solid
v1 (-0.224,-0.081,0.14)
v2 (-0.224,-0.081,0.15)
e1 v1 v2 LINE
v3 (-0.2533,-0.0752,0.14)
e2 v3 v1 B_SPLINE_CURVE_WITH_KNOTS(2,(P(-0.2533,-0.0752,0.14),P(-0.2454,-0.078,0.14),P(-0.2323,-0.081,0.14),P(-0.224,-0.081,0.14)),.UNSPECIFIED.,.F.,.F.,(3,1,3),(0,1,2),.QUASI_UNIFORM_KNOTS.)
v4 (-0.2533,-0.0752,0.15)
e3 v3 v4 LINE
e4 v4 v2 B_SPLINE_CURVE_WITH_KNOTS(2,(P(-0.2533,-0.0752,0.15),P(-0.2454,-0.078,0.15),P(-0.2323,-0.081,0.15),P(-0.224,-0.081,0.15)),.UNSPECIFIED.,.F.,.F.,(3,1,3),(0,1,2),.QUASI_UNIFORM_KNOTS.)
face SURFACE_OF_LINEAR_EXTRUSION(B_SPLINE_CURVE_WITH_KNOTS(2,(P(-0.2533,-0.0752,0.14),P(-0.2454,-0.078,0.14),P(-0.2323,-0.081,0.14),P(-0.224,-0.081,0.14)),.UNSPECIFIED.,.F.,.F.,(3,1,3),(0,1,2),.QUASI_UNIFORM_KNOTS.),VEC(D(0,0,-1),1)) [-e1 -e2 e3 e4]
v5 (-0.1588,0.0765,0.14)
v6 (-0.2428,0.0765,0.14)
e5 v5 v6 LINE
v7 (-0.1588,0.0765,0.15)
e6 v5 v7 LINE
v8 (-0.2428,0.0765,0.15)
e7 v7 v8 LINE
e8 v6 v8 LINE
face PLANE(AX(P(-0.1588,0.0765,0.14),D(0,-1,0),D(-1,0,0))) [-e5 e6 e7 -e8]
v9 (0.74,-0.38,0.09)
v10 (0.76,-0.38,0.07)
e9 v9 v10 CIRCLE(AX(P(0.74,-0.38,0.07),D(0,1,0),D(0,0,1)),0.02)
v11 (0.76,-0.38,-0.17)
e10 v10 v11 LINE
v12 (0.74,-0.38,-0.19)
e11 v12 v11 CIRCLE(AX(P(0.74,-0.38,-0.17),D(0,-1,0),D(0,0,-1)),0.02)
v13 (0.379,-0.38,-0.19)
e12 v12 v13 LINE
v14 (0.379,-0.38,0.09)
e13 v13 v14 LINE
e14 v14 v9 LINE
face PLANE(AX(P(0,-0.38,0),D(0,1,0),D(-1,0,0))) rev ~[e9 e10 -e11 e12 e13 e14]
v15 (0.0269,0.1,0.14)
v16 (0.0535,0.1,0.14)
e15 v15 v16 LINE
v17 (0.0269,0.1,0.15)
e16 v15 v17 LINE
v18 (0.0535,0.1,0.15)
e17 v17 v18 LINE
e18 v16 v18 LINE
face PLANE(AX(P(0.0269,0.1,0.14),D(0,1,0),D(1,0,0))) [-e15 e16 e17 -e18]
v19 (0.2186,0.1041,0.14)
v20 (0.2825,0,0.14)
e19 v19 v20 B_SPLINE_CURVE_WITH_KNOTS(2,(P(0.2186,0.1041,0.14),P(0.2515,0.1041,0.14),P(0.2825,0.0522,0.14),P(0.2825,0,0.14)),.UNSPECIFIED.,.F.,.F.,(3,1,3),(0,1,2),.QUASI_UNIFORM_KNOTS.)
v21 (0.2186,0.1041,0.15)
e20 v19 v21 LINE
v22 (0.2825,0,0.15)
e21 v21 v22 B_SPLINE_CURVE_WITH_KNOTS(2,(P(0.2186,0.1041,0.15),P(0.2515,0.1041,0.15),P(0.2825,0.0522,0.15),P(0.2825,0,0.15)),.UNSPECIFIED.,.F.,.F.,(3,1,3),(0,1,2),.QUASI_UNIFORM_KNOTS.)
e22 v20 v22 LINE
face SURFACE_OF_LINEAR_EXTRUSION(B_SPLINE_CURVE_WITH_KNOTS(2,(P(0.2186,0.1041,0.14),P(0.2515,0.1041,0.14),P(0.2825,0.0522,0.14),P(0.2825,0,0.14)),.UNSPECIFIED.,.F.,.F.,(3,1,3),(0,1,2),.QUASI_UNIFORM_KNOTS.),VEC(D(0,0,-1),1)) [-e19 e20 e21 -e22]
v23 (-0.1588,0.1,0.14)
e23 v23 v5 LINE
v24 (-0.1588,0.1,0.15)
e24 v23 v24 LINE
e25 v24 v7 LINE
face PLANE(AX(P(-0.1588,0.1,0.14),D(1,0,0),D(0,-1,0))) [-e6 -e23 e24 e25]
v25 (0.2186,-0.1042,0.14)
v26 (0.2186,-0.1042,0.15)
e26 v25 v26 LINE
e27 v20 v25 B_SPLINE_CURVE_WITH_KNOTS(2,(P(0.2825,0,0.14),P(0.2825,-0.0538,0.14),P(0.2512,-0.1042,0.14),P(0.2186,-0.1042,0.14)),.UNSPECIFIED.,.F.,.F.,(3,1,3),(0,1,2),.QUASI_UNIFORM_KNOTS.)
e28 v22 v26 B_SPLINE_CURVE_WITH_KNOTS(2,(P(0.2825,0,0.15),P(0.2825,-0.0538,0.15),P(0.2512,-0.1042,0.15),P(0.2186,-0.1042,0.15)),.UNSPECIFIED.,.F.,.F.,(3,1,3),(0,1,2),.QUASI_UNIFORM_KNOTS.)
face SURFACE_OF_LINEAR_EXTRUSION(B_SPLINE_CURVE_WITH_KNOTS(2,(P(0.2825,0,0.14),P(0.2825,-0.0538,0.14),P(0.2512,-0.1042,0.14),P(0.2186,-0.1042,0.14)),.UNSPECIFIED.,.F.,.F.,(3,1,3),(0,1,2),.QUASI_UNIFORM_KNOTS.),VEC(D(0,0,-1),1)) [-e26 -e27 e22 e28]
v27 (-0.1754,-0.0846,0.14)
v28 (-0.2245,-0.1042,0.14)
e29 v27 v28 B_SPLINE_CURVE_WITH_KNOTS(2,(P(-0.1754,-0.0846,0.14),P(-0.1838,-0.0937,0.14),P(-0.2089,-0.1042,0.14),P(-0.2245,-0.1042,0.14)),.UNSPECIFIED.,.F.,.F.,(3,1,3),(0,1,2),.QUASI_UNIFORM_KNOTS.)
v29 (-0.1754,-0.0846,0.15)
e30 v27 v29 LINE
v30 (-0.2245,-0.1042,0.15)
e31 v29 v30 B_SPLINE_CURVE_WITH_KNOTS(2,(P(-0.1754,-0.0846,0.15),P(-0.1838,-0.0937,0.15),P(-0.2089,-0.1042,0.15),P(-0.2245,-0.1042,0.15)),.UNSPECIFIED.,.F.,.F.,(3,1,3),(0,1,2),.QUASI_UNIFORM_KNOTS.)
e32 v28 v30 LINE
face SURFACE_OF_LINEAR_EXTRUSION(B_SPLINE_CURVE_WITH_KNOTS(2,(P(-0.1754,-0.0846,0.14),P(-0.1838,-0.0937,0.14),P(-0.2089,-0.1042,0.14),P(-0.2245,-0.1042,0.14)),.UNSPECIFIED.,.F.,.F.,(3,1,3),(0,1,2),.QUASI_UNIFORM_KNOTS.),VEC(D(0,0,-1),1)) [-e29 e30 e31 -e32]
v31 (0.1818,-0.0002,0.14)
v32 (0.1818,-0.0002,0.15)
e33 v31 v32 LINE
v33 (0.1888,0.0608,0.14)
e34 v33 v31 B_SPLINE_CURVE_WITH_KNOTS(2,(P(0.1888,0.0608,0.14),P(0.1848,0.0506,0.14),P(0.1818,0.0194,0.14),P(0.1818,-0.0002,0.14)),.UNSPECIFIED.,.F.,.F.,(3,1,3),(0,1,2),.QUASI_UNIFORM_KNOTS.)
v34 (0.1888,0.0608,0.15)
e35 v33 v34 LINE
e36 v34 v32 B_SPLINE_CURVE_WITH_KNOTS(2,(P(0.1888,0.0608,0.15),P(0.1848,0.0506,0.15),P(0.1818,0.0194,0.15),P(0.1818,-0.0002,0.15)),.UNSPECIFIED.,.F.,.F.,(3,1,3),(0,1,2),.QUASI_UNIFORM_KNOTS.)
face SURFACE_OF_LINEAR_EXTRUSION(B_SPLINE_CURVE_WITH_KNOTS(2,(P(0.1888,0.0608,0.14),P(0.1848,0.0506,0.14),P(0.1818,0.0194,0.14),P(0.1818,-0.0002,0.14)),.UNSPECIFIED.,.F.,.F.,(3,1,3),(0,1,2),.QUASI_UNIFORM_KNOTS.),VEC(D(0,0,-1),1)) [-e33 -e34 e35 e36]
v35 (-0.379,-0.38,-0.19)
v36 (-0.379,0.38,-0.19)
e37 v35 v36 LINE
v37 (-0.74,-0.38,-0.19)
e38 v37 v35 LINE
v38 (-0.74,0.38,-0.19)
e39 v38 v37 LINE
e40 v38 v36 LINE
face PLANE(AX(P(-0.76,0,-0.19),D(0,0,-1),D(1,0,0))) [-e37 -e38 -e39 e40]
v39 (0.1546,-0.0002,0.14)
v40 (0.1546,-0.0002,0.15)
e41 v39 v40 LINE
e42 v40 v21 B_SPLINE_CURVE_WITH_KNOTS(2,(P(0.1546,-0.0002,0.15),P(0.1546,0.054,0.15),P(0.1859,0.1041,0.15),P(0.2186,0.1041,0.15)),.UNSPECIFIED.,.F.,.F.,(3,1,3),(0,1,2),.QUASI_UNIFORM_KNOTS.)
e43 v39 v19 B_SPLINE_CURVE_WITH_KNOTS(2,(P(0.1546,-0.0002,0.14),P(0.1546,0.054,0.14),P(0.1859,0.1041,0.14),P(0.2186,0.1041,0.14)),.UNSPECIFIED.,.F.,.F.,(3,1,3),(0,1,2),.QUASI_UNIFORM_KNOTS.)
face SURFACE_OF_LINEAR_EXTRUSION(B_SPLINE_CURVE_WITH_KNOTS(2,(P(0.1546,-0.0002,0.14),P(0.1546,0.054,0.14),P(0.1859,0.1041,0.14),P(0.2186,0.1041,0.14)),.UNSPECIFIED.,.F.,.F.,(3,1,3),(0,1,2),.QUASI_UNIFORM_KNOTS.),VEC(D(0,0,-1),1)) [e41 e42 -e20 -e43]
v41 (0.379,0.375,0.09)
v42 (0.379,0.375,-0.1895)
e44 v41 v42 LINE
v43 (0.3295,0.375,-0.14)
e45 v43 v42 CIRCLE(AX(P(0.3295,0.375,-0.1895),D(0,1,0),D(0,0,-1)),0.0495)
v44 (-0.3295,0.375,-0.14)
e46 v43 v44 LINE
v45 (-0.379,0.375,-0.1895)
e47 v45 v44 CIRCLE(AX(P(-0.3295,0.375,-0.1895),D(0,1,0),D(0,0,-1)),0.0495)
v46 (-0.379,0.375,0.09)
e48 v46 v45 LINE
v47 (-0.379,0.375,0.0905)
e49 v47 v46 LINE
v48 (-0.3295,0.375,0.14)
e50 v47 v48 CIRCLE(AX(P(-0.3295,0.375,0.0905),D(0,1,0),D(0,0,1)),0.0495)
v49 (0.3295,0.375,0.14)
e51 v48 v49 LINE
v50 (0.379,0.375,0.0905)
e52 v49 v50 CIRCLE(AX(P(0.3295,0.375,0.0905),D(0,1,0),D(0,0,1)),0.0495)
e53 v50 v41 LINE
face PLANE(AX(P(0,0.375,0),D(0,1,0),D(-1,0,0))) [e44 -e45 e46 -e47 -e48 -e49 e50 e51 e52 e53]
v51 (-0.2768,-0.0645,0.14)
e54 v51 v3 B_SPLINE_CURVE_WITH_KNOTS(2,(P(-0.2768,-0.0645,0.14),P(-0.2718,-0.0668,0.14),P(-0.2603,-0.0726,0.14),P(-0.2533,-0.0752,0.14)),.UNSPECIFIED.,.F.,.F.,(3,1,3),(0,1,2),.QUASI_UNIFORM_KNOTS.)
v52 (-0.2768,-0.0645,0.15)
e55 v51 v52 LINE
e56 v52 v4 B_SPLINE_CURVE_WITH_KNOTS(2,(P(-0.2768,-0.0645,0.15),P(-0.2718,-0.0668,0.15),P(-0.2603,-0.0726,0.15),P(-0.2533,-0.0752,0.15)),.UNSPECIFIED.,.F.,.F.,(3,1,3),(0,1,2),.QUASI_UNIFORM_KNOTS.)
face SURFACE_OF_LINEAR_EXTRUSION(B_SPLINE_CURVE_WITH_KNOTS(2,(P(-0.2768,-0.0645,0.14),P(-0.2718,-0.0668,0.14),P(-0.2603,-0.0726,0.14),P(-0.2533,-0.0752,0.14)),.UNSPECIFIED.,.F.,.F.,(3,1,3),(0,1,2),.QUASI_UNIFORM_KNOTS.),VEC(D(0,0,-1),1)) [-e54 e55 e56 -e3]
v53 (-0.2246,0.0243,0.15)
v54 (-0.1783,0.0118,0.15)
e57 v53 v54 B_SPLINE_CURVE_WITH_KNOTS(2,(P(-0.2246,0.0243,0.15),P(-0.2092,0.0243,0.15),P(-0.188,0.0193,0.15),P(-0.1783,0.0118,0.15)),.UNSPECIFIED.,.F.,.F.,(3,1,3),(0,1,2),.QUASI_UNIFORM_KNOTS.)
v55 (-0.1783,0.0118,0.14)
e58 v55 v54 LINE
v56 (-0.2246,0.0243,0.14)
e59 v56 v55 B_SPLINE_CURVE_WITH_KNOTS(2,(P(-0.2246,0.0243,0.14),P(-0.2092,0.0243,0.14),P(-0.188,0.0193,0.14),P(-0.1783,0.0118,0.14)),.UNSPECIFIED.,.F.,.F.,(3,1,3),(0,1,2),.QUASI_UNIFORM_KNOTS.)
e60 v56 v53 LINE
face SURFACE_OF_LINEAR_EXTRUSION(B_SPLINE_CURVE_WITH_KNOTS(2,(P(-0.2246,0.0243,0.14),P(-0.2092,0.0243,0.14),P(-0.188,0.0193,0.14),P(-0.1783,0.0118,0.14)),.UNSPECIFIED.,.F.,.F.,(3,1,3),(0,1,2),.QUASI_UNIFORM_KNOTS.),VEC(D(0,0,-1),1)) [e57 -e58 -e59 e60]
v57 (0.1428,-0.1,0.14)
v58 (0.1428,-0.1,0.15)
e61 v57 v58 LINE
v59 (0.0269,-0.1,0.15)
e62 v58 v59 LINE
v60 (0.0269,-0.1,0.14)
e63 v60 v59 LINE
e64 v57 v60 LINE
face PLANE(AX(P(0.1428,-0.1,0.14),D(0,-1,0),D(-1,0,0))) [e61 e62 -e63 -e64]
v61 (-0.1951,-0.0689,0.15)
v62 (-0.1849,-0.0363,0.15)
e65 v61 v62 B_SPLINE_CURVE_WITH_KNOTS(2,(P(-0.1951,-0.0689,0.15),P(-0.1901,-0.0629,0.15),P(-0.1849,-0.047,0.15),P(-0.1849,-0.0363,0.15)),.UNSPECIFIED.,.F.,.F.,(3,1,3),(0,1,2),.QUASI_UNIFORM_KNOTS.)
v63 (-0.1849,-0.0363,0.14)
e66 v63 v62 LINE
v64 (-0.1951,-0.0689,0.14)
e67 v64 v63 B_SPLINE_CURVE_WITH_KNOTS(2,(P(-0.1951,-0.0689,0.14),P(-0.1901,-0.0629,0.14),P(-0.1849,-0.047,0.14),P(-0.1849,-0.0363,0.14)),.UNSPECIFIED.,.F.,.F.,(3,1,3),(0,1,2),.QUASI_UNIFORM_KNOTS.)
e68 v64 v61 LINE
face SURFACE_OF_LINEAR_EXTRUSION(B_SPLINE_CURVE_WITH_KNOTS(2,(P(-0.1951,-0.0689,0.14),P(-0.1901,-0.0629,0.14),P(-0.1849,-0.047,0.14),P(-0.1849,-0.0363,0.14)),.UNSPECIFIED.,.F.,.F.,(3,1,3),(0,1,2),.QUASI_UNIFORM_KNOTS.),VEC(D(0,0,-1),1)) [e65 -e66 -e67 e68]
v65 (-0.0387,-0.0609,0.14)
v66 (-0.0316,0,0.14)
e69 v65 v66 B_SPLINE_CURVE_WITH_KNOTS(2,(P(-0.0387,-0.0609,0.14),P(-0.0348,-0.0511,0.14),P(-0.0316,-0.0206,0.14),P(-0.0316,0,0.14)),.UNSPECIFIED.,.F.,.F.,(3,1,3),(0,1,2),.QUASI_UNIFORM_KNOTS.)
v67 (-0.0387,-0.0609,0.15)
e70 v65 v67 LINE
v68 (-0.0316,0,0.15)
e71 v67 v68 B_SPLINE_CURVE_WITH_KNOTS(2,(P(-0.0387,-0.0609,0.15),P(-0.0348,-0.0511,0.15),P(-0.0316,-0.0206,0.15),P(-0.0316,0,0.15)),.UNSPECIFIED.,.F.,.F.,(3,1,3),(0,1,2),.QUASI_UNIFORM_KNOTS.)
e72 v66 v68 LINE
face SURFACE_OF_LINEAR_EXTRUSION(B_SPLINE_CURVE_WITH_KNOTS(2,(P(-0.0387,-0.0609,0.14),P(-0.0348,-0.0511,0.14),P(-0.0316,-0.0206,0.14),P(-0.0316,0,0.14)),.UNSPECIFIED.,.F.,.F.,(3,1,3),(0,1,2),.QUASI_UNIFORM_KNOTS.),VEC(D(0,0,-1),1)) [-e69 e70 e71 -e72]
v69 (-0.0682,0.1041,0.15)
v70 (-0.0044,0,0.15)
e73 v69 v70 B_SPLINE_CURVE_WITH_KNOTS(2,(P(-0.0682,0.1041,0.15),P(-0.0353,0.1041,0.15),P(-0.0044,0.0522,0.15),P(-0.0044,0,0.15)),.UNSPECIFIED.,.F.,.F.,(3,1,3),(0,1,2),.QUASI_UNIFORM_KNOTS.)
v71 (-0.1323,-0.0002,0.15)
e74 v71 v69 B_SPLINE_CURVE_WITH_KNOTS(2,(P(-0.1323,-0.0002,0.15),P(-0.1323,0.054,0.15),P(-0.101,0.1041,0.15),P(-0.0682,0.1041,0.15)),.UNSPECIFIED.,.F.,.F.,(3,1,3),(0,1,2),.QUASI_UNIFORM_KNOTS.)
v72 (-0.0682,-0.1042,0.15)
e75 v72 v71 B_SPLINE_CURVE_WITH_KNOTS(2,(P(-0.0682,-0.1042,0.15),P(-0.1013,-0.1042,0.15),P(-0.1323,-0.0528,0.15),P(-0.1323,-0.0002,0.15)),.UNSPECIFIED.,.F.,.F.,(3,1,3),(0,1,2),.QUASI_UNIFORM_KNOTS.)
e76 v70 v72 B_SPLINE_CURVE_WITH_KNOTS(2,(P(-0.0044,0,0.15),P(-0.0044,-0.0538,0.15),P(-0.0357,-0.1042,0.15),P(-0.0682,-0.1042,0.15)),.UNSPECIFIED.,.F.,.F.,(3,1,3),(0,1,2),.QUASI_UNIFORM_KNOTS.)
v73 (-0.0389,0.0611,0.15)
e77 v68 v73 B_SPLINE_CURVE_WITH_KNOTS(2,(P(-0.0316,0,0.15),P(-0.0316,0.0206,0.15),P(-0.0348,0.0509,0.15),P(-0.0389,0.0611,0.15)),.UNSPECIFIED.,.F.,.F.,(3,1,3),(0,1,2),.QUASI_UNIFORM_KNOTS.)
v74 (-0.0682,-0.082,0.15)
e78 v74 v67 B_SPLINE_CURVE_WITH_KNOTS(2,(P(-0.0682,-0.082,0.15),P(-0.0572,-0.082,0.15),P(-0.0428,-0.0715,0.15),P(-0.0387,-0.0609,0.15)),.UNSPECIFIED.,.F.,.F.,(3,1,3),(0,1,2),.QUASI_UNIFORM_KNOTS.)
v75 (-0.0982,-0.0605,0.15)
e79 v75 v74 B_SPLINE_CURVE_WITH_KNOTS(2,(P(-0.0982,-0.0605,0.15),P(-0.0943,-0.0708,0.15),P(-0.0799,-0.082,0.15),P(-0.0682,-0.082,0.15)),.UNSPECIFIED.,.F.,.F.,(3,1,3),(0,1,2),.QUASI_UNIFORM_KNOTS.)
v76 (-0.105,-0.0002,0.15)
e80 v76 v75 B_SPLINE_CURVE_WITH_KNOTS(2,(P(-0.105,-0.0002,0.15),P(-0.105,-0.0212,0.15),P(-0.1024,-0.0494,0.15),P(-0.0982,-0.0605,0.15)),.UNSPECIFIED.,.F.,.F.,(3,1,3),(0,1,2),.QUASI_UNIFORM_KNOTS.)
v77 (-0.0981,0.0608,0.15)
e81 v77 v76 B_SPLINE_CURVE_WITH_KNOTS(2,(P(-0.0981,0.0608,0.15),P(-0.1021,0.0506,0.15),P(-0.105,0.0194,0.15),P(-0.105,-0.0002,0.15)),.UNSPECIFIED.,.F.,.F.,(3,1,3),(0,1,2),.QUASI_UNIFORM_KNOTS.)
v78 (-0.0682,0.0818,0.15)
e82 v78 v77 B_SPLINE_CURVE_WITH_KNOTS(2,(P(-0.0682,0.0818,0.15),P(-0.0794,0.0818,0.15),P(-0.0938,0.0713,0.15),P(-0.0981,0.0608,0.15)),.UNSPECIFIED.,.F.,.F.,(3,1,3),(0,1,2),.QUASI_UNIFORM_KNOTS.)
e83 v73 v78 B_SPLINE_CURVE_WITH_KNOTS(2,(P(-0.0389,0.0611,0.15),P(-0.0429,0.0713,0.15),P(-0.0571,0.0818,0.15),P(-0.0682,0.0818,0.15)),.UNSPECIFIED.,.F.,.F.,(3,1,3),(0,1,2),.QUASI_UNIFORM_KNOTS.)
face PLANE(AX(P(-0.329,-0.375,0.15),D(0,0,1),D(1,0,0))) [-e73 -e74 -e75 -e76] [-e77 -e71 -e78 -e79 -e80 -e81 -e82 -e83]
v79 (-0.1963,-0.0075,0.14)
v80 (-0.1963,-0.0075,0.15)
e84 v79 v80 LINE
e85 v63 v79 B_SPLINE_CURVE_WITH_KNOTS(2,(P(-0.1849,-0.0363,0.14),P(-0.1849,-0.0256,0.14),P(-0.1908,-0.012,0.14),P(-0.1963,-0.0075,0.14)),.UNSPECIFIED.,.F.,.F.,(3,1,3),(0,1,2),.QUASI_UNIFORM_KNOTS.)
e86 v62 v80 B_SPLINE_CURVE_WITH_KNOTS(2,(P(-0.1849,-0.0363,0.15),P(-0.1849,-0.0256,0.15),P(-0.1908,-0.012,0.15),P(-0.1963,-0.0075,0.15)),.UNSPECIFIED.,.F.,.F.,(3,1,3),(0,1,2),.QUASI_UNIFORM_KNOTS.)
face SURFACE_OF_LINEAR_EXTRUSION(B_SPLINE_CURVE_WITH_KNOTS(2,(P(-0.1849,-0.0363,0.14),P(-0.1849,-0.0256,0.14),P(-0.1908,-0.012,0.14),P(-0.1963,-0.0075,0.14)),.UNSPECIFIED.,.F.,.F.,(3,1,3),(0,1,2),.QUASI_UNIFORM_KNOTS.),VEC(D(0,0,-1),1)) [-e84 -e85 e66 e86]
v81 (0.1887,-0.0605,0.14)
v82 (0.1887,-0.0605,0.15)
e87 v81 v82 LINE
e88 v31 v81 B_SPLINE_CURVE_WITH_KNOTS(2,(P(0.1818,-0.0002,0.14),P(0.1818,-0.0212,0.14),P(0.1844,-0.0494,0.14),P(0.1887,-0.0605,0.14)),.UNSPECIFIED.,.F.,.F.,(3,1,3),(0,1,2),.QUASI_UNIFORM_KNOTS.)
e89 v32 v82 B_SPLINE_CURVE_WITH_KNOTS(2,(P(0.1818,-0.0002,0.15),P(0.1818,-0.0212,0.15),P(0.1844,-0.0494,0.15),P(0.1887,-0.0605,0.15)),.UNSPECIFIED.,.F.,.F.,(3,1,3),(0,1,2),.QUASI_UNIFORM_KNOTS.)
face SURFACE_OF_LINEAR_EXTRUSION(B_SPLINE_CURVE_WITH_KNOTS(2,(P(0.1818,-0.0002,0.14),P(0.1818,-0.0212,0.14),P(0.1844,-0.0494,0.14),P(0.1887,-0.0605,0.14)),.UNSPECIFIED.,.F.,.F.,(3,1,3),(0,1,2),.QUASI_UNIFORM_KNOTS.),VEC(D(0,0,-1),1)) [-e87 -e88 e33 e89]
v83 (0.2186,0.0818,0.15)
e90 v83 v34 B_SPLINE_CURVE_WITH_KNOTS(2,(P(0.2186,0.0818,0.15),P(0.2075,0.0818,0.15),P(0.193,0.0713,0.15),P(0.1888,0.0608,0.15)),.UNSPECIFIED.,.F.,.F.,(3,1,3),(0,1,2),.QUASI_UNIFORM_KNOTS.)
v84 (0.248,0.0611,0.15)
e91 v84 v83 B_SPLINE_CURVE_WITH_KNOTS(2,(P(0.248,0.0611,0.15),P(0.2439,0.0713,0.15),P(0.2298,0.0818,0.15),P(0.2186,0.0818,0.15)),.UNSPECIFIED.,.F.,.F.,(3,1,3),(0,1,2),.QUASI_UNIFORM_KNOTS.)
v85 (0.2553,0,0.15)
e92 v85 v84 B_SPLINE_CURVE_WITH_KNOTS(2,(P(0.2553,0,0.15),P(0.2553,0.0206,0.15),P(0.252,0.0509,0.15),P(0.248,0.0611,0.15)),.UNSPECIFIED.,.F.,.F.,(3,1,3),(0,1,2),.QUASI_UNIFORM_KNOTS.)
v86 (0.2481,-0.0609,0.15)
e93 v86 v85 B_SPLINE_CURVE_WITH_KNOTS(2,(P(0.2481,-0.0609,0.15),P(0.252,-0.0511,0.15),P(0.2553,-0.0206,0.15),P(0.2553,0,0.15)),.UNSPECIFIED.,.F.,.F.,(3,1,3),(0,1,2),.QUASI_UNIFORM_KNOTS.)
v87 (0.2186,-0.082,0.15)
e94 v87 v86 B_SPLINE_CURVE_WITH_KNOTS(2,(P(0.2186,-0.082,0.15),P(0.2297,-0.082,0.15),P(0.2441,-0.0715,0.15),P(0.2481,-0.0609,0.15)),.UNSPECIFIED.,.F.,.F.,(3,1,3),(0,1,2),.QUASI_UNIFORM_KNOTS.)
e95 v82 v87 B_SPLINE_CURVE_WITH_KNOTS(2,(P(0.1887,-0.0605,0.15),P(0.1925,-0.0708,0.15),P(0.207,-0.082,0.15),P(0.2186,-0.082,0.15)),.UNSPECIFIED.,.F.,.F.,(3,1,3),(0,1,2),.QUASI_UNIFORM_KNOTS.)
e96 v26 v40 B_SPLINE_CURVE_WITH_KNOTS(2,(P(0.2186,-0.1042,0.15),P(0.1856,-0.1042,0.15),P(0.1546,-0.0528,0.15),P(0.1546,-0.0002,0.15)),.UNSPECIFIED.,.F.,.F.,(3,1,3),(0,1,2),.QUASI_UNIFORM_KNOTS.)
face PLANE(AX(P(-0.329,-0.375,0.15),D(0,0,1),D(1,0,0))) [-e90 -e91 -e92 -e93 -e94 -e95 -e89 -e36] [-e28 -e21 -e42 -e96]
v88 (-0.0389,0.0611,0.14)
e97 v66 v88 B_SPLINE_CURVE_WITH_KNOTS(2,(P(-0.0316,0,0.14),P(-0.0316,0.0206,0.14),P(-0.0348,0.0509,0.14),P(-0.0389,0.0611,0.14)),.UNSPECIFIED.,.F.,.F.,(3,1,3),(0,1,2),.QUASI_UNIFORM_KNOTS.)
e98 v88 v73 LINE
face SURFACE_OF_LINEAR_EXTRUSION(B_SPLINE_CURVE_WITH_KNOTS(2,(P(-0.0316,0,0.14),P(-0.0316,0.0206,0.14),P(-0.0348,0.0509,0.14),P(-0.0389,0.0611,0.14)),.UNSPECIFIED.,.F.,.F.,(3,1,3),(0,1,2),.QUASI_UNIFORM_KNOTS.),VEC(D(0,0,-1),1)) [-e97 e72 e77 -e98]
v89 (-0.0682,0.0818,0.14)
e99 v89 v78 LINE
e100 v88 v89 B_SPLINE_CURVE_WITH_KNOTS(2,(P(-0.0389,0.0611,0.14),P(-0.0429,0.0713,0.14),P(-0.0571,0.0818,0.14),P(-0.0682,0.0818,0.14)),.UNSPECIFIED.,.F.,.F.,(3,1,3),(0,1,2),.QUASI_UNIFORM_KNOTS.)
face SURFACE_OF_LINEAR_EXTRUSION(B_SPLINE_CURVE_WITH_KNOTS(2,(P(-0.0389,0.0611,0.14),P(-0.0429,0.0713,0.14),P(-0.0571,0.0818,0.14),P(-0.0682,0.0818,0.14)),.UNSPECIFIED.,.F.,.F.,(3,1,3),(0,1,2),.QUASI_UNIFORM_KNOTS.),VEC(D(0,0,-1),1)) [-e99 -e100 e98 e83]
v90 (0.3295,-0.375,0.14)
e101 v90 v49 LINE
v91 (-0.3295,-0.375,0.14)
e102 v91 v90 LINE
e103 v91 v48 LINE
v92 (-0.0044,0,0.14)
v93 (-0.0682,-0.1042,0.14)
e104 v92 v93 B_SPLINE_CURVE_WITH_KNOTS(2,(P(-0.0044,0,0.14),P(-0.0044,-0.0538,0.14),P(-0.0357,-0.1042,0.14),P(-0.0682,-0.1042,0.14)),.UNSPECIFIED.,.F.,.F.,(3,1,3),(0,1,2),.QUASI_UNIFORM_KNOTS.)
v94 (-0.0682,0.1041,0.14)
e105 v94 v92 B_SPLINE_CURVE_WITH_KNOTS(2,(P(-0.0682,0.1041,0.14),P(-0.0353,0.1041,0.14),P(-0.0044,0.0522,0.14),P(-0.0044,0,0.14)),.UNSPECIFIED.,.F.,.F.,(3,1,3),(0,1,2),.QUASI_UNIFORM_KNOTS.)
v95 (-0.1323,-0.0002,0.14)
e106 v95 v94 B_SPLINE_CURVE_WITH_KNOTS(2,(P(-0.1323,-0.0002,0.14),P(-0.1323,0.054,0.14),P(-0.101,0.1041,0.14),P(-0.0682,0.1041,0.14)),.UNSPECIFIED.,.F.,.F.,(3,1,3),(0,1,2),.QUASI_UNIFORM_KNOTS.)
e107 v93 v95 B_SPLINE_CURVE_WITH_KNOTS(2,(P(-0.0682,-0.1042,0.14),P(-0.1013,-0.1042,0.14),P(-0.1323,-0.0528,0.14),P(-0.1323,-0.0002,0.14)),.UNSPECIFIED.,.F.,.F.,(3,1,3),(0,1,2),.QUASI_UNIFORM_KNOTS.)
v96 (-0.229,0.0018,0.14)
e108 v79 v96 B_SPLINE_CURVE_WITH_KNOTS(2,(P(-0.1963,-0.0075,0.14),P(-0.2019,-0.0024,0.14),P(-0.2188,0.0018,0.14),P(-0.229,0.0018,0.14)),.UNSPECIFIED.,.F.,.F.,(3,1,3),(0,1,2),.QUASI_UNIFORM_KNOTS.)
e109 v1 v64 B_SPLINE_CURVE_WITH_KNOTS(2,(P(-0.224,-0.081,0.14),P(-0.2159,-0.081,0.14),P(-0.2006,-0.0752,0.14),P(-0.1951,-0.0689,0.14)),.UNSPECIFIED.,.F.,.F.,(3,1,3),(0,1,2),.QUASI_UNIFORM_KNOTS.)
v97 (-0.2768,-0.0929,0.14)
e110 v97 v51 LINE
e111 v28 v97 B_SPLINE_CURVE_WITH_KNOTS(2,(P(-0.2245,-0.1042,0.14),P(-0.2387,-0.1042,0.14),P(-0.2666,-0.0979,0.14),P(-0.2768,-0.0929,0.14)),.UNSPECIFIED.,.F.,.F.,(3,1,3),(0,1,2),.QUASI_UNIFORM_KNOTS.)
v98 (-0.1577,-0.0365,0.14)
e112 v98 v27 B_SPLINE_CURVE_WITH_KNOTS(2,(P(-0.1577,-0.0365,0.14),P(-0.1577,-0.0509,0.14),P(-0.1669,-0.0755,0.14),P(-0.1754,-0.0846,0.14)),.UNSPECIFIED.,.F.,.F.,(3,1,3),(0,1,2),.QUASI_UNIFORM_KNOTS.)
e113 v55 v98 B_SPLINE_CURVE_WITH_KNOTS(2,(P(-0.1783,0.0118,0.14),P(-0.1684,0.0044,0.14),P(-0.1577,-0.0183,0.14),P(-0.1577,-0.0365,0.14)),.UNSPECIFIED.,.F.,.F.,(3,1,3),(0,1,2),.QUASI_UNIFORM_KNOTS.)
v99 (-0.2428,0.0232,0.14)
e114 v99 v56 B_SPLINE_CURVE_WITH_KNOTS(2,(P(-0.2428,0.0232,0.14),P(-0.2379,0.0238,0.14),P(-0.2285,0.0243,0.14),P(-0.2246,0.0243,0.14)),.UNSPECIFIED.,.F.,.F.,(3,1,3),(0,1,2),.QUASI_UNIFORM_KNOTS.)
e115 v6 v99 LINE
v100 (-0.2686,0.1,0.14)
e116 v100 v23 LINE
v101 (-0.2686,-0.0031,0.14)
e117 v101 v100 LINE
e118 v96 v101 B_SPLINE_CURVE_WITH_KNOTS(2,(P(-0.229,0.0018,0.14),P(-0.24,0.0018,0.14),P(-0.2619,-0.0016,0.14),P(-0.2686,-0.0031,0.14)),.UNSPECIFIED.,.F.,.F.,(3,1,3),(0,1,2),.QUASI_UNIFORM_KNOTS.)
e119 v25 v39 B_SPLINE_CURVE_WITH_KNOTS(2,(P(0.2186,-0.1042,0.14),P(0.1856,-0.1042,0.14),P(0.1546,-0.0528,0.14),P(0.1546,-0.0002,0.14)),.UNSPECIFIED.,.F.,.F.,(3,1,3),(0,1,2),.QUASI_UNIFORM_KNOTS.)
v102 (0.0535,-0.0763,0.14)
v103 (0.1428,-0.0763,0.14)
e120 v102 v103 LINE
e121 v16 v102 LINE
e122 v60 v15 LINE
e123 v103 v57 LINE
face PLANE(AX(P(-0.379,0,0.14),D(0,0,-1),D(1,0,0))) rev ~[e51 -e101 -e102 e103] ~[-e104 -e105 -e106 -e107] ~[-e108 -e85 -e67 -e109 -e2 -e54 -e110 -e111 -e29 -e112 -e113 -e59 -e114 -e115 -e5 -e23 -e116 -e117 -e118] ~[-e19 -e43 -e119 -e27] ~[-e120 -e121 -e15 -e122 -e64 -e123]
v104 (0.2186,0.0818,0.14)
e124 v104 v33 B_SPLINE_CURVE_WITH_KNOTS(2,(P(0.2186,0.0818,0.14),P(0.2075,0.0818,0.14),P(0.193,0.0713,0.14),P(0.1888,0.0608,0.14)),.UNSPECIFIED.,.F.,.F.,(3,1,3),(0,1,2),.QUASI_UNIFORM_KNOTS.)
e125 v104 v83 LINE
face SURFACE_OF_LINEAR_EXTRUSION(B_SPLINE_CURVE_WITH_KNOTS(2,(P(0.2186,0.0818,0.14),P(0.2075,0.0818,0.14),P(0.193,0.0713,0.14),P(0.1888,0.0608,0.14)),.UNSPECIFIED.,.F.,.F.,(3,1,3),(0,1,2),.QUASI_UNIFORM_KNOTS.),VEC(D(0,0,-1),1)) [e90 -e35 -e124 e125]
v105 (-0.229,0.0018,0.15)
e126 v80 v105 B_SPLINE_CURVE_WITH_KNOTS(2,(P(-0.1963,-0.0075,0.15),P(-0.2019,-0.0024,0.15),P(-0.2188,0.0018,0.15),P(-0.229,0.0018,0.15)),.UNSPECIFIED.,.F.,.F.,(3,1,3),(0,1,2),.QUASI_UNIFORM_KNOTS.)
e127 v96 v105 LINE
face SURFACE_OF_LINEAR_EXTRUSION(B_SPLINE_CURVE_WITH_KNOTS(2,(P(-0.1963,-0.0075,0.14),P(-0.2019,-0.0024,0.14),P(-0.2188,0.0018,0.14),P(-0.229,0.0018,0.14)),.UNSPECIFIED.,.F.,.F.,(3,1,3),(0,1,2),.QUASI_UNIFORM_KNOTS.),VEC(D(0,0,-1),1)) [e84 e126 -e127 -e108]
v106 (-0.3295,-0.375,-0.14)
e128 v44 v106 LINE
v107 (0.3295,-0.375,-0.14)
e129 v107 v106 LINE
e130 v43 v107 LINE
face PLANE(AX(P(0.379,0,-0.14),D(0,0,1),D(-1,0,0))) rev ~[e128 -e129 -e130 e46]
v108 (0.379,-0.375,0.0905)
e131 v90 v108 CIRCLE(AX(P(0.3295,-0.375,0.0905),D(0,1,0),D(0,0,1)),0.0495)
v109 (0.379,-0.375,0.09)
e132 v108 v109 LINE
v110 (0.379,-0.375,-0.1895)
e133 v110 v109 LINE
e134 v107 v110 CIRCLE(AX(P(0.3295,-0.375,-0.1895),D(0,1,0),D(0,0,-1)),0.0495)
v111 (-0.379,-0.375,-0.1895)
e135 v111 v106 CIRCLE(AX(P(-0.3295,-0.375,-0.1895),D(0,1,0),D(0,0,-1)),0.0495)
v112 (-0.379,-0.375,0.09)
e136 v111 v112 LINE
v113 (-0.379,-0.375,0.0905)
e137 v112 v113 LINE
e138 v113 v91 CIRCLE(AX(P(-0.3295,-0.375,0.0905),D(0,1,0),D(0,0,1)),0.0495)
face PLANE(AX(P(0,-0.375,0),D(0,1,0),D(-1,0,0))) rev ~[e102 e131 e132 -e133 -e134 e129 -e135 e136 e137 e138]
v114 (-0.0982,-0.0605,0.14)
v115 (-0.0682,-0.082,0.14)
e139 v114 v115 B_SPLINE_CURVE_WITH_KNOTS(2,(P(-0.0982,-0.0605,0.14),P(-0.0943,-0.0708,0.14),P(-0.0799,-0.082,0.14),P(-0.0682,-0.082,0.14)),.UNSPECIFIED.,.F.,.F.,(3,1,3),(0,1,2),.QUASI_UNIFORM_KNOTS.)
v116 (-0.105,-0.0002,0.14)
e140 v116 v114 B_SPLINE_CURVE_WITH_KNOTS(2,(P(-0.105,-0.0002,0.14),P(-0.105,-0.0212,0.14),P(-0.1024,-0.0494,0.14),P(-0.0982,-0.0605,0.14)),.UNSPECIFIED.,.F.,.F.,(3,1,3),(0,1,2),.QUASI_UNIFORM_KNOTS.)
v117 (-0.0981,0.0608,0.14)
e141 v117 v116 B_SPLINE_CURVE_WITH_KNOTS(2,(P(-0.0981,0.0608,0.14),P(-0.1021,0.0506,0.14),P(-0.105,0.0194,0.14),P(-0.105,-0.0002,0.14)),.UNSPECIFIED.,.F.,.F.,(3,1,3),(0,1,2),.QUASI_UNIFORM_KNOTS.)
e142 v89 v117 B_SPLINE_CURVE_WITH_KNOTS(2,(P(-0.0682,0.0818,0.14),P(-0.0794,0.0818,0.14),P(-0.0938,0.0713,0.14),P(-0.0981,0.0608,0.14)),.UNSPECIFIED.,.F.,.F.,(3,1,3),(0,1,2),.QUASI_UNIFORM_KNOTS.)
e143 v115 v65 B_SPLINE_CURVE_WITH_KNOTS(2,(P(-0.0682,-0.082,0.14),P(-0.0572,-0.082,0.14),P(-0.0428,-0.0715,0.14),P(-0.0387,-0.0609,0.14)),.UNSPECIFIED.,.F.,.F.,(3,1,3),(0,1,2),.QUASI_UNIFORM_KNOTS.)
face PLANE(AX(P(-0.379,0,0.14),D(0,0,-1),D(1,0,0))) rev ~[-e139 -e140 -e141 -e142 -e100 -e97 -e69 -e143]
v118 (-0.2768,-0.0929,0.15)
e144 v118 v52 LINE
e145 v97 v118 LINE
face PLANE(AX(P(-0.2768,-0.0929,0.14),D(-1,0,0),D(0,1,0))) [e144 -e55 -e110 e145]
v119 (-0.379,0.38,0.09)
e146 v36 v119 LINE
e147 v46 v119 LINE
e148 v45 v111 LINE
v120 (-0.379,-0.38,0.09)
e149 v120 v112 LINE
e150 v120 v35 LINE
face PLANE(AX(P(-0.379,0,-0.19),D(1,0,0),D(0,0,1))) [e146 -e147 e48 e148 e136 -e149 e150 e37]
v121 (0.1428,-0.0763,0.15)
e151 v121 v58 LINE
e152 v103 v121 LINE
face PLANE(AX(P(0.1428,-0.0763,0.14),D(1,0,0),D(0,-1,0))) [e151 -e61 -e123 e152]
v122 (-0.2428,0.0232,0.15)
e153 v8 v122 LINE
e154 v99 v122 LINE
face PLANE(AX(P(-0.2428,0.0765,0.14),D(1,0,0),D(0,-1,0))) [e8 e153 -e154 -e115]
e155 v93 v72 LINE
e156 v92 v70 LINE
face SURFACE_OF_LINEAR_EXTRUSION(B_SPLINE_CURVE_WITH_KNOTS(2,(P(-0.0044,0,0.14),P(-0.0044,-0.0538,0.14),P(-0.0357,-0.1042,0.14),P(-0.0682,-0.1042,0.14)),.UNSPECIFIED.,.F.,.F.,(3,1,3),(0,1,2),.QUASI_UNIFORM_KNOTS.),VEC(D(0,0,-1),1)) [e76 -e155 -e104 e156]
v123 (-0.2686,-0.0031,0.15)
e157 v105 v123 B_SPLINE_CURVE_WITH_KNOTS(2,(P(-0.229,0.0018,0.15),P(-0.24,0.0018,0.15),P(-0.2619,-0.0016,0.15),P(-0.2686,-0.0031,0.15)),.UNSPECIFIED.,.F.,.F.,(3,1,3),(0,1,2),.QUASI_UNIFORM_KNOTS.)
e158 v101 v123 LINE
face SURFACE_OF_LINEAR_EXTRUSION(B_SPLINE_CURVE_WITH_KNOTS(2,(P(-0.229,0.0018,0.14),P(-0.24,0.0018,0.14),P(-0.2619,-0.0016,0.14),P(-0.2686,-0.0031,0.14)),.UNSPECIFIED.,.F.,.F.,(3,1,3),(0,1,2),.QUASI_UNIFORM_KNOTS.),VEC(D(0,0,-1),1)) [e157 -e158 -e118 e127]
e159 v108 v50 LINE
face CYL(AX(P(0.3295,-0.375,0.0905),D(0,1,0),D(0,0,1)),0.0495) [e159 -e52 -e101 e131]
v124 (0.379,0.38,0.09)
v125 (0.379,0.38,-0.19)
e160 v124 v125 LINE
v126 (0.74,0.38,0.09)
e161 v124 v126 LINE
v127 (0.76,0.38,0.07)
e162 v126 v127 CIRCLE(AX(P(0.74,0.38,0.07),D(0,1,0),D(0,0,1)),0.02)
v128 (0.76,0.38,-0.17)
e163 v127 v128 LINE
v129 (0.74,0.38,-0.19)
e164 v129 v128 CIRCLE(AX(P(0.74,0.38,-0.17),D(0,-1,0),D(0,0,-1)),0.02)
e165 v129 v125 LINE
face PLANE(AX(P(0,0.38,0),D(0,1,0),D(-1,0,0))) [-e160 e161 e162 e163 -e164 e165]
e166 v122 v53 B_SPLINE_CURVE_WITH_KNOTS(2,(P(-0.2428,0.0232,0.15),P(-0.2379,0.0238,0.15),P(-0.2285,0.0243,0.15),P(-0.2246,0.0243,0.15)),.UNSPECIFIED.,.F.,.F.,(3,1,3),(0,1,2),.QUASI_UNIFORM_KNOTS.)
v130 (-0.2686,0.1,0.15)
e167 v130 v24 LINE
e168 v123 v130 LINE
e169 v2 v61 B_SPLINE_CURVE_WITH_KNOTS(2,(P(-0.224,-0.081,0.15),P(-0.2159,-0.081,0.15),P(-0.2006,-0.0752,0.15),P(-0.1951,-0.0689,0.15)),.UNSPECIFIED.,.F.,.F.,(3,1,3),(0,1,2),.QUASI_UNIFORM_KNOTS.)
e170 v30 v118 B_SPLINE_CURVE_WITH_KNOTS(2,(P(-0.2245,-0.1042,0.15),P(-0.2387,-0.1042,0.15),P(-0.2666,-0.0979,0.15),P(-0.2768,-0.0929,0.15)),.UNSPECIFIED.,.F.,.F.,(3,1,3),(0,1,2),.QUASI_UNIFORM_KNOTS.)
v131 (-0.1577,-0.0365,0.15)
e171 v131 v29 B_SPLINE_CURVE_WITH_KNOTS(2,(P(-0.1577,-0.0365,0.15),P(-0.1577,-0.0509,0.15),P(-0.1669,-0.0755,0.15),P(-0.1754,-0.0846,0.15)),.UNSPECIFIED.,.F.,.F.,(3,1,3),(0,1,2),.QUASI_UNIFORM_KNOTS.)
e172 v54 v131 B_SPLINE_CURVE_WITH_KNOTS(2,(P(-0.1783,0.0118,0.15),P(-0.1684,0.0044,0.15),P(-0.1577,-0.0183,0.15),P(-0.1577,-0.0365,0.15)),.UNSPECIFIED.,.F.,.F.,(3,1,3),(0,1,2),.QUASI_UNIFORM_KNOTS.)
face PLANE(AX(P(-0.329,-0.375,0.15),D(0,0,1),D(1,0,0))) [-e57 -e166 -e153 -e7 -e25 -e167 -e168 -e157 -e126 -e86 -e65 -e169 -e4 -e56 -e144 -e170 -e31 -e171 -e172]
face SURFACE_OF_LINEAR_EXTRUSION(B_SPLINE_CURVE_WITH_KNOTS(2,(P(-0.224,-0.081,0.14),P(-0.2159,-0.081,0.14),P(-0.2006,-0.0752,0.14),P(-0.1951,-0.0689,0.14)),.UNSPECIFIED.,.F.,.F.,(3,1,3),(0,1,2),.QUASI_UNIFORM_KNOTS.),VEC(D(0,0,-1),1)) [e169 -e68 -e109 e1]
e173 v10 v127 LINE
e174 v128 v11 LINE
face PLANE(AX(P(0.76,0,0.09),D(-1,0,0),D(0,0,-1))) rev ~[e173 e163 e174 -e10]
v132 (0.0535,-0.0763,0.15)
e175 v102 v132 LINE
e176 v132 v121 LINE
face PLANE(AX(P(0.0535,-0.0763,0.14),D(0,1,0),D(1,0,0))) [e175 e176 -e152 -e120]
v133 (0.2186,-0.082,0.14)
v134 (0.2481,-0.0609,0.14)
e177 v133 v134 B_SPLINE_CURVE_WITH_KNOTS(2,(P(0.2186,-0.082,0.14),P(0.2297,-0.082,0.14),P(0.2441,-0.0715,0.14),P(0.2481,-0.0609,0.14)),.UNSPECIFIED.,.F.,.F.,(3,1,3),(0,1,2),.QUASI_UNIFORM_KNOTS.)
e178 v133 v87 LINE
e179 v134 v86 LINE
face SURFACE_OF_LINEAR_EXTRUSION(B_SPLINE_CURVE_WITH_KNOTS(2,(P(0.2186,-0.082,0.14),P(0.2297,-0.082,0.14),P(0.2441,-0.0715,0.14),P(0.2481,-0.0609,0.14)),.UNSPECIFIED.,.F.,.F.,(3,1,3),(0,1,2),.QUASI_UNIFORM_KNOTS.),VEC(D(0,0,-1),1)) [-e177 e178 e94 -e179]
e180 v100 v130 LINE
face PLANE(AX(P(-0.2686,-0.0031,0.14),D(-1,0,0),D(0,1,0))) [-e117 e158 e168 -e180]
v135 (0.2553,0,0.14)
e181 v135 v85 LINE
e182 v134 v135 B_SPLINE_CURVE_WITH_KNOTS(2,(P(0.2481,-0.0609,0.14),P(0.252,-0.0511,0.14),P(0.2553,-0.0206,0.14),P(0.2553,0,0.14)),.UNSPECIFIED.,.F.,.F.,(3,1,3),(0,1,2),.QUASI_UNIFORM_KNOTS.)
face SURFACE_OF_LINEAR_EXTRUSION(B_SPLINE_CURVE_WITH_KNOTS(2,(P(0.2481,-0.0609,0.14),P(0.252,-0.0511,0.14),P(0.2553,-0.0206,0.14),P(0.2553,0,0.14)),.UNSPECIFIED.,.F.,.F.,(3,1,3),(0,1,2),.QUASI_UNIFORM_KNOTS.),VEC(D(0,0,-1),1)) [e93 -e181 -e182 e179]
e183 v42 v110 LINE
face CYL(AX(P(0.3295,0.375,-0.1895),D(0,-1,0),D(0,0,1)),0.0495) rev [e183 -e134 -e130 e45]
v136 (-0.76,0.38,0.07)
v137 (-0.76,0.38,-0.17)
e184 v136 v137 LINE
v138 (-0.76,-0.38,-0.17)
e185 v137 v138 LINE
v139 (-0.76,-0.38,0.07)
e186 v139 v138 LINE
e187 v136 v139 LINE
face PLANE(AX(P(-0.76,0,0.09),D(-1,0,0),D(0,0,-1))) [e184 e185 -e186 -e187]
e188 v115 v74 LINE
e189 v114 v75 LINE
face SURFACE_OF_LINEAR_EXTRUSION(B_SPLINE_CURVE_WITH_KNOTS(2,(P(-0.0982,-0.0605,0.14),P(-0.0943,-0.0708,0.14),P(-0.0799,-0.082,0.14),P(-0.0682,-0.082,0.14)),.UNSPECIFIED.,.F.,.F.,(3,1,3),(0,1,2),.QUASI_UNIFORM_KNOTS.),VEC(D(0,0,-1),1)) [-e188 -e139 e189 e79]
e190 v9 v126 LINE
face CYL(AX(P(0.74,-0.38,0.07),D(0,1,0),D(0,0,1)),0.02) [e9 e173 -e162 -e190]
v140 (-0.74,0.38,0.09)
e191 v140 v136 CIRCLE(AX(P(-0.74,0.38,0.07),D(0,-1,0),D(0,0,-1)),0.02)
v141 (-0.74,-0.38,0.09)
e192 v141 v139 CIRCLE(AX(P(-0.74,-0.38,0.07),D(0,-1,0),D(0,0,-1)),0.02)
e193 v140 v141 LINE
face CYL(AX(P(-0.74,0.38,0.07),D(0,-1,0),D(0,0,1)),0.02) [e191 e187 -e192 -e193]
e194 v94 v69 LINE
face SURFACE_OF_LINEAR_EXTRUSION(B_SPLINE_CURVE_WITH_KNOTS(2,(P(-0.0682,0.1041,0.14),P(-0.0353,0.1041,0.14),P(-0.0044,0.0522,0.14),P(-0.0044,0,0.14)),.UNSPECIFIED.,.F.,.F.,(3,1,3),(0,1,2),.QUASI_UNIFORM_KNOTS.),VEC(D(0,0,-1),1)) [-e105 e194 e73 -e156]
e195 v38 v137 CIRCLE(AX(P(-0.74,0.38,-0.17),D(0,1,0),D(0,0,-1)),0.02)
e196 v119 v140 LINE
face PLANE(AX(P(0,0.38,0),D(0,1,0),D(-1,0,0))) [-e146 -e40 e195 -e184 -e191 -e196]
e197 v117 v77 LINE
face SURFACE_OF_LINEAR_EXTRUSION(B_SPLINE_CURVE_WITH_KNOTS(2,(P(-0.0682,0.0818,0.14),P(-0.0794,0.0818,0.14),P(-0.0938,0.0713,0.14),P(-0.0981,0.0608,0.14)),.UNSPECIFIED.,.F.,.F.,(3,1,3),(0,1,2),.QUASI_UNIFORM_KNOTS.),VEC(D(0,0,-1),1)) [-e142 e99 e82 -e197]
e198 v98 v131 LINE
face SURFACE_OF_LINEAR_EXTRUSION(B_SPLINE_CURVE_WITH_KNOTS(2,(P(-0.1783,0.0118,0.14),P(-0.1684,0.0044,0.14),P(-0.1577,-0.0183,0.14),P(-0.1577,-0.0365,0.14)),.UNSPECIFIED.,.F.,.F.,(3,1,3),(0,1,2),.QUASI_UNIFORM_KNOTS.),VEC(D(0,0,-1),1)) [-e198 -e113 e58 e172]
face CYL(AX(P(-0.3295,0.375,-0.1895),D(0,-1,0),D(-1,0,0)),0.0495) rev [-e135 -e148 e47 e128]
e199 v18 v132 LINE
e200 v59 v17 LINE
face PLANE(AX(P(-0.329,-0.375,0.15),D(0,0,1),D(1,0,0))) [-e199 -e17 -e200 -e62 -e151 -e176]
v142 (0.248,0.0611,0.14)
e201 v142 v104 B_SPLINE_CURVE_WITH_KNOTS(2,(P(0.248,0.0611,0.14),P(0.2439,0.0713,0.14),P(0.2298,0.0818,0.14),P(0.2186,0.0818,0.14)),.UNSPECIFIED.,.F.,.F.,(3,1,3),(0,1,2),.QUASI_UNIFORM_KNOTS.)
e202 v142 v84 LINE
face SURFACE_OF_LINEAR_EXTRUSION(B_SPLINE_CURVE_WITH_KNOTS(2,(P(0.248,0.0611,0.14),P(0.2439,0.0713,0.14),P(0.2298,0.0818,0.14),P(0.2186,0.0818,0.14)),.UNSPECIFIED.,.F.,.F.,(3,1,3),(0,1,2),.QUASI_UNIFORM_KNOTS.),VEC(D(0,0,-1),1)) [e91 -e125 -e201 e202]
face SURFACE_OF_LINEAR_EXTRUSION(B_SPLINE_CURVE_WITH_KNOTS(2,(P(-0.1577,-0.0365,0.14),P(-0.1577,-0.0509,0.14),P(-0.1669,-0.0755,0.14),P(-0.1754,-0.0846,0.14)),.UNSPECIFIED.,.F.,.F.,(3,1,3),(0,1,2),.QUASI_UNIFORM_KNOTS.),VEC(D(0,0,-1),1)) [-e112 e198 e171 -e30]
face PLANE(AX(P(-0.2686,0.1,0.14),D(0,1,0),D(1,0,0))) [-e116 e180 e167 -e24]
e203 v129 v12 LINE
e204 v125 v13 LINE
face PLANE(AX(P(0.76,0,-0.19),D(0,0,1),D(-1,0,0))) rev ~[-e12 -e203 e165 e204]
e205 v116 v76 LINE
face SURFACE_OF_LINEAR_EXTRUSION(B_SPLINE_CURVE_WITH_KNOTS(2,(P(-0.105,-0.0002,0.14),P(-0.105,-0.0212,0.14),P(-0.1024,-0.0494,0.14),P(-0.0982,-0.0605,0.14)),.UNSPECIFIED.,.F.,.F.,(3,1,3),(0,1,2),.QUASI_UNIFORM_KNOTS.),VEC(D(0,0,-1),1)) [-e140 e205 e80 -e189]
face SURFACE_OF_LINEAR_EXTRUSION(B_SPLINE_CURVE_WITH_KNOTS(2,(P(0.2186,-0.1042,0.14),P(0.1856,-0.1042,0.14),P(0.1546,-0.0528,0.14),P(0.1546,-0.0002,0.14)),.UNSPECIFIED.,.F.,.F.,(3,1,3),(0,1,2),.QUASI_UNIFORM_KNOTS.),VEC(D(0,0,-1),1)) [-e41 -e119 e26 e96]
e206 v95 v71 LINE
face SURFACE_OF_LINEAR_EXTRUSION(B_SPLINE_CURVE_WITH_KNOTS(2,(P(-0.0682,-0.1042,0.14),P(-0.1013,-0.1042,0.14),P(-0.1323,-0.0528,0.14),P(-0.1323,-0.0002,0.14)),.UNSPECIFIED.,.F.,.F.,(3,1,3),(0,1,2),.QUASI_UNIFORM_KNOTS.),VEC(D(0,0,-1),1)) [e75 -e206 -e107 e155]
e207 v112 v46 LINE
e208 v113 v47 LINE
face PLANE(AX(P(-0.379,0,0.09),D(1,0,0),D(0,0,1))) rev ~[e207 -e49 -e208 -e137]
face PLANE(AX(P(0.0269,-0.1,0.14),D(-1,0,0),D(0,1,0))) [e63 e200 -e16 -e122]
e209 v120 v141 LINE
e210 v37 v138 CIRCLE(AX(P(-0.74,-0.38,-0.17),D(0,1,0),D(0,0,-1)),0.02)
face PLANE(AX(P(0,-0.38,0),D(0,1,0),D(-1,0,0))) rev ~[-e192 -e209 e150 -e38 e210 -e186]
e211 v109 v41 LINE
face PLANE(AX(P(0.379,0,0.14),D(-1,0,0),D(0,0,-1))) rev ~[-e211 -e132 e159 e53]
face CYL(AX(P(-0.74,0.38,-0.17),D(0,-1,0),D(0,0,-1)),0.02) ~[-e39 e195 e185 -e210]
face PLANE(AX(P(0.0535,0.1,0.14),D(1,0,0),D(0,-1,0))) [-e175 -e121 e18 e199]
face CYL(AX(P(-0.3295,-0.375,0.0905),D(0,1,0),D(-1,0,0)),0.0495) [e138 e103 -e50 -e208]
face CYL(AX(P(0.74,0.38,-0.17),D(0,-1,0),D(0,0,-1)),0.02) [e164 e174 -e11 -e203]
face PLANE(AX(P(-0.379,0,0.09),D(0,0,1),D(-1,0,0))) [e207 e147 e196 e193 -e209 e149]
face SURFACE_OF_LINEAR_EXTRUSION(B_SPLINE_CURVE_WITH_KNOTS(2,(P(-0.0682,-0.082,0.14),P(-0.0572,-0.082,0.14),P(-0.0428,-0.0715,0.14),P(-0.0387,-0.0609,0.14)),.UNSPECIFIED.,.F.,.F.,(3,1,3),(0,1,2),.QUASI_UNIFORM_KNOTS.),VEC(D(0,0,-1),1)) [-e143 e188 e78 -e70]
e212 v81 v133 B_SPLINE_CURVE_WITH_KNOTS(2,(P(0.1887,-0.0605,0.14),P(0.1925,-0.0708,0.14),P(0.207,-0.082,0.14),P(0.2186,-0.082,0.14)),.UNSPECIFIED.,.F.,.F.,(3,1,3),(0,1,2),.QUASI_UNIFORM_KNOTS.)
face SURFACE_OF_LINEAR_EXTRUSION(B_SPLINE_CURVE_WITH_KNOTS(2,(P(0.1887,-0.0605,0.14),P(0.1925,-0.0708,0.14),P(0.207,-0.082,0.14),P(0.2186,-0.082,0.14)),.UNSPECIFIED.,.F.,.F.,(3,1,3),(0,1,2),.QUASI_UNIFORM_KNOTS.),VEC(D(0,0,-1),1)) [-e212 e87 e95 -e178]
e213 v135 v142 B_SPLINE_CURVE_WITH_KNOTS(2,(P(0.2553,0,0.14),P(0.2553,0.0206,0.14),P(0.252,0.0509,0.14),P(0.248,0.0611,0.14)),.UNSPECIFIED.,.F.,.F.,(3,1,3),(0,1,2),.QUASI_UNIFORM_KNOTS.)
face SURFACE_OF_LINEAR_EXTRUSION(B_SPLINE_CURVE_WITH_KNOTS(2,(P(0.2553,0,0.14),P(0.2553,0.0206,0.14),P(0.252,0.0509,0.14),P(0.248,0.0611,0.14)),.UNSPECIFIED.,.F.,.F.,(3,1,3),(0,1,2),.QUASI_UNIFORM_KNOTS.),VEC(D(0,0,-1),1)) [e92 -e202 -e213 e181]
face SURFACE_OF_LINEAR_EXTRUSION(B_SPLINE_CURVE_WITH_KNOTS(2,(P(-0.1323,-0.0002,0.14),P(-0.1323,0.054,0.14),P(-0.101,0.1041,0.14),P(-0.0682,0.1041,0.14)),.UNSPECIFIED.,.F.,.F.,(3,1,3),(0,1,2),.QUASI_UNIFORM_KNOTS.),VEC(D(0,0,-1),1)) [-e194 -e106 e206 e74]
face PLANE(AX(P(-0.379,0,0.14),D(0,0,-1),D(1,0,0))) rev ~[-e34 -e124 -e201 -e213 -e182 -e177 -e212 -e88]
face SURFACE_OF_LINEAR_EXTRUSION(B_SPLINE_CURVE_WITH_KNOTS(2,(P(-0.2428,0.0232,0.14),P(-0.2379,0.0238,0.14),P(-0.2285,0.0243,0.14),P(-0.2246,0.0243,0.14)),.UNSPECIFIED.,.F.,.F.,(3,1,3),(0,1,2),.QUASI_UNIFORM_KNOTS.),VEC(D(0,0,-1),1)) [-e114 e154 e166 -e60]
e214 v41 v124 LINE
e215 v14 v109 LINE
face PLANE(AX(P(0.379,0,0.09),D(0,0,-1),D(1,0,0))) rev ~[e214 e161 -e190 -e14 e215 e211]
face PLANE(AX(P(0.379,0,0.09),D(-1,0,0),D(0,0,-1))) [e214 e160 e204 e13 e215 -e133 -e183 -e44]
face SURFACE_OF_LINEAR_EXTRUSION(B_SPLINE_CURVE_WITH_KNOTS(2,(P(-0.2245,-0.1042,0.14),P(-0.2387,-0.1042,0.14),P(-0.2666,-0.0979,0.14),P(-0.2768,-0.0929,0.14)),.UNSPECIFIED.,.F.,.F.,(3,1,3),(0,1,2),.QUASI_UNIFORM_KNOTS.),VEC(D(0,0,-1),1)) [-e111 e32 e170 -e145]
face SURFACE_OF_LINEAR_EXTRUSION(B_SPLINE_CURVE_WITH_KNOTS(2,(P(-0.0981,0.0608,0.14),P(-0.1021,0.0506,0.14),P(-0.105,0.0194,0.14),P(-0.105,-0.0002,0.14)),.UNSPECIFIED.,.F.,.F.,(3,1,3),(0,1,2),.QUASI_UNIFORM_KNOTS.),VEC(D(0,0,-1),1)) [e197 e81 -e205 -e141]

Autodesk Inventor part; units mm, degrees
ref_plane "YZ Plane" through (0, 0, 0) normal (1, 0, 0) x (0, 1, 0)
ref_plane "XZ Plane" through (0, 0, 0) normal (0, 1, 0) x (-1, 0, 0)
ref_plane "XY Plane" through (0, 0, 0) normal (0, 0, 1) x (1, 0, 0)
sketch "Sketch1" plane through (0, 0, 0) normal (0, 1, 0) x (-1, 0, 0)
  line L0 (0.379, 0.14) -> (-0.379, 0.14)
  line L1 (-0.379, 0.14) -> (-0.379, -0.14)
  line L2 (-0.379, -0.14) -> (0.379, -0.14)
  line L3 (0.379, -0.14) -> (0.379, 0.14)
  line L4 (0.379, 0.09) -> (0.76, 0.09)
  line L5 (0.76, 0.09) -> (0.76, -0.19)
  line L6 (0.76, -0.19) -> (0.379, -0.19)
  line L7 (0.379, -0.19) -> (0.379, 0.09)
  line L8 (-0.379, 0.09) -> (-0.76, 0.09)
  line L9 (-0.76, 0.09) -> (-0.76, -0.19)
  line L10 (-0.76, -0.19) -> (-0.379, -0.19)
  line L11 (-0.379, -0.19) -> (-0.379, 0.09)
  point P0 (0, 0)
  point P1 (0, 0.14)
  point P2 (0.379, 0)
  dimension "d0" = 0.381
  dimension "d1" = 1.52
  dimension "d2" = 0.05
  dimension "d3" = 0.33
  dimension "d4" = 0.05
extrude "Extrusion1" add sketch "Sketch1" along normal mid plane 0.76 contours L4 L5 L6 L7 L3 | L1 L11 L10 L9 L8
extrude "Extrusion2" add sketch "Sketch1" along normal mid plane 0.75 contours L3 L2 L1 L0
fillet "Fillet1" radius 0.05 4 edges at (0.379, 0, 0.14) (-0.379, 0, 0.14) (-0.379, 0, -0.14) (0.379, 0, -0.14)
fillet "Fillet2" radius 0.02 4 edges at (-0.76, 0, 0.09) (-0.76, 0, -0.19) (0.76, 0, 0.09) (0.76, 0, -0.19)
sketch "Sketch2" plane through (-0.329, -0.375, 0.14) normal (0, 0, 1) x (1, 0, 0)
  line L0 (0, 0) -> (0, 0.75) projected
  line L1 (0.658, 0) -> (0, 0) projected
  line L2 (0.658, 0.75) -> (0.658, 0) projected
  line L3 (0, 0.75) -> (0.658, 0.75) construction
  line L4 (0, 0.375) -> (0.658, 0.375) construction
  spline S0 degree 2 poles (0.1713, 0.3385) (0.1713, 0.3241) (0.1621, 0.2995) (0.1536, 0.2904) knots 0 0 0 1 2 2 2
  spline S1 degree 2 poles (0.1536, 0.2904) (0.1452, 0.2813) (0.1201, 0.2708) (0.1045, 0.2708) knots 0 0 0 1 2 2 2
  spline S2 degree 2 poles (0.1045, 0.2708) (0.0903, 0.2708) (0.0624, 0.2771) (0.0522, 0.2821) knots 0 0 0 1 2 2 2
  line L5 (0.0522, 0.2821) -> (0.0522, 0.3105)
  line L6 (0.0522, 0.3105) -> (0.0541, 0.3105)
  spline S3 degree 2 poles (0.0541, 0.3105) (0.0572, 0.3082) (0.0687, 0.3024) (0.0757, 0.2998) knots 0 0 0 1 2 2 2
  spline S4 degree 2 poles (0.0757, 0.2998) (0.0836, 0.297) (0.0967, 0.294) (0.105, 0.294) knots 0 0 0 1 2 2 2
  spline S5 degree 2 poles (0.105, 0.294) (0.1131, 0.294) (0.1284, 0.2998) (0.1339, 0.3061) knots 0 0 0 1 2 2 2
  spline S6 degree 2 poles (0.1339, 0.3061) (0.1389, 0.3121) (0.1441, 0.328) (0.1441, 0.3387) knots 0 0 0 1 2 2 2
  spline S7 degree 2 poles (0.1441, 0.3387) (0.1441, 0.3494) (0.1382, 0.363) (0.1327, 0.3675) knots 0 0 0 1 2 2 2
  spline S8 degree 2 poles (0.1327, 0.3675) (0.1271, 0.3726) (0.1102, 0.3768) (0.1, 0.3768) knots 0 0 0 1 2 2 2
  spline S9 degree 2 poles (0.1, 0.3768) (0.089, 0.3768) (0.0671, 0.3734) (0.0604, 0.3719) knots 0 0 0 1 2 2 2
  line L7 (0.0604, 0.3719) -> (0.0604, 0.475)
  line L8 (0.0604, 0.475) -> (0.1702, 0.475)
  line L9 (0.1702, 0.475) -> (0.1702, 0.4515)
  line L10 (0.1702, 0.4515) -> (0.0862, 0.4515)
  line L11 (0.0862, 0.4515) -> (0.0862, 0.3982)
  spline S10 degree 2 poles (0.0862, 0.3982) (0.0911, 0.3988) (0.1005, 0.3993) (0.1044, 0.3993) knots 0 0 0 1 2 2 2
  spline S11 degree 2 poles (0.1044, 0.3993) (0.1198, 0.3993) (0.141, 0.3943) (0.1507, 0.3868) knots 0 0 0 1 2 2 2
  spline S12 degree 2 poles (0.1507, 0.3868) (0.1606, 0.3794) (0.1713, 0.3567) (0.1713, 0.3385) knots 0 0 0 1 2 2 2
  spline S13 degree 2 poles (0.3246, 0.375) (0.3246, 0.3212) (0.2933, 0.2708) (0.2608, 0.2708) knots 0 0 0 1 2 2 2
  spline S14 degree 2 poles (0.2608, 0.2708) (0.2277, 0.2708) (0.1967, 0.3222) (0.1967, 0.3748) knots 0 0 0 1 2 2 2
  spline S15 degree 2 poles (0.1967, 0.3748) (0.1967, 0.429) (0.228, 0.4791) (0.2608, 0.4791) knots 0 0 0 1 2 2 2
  spline S16 degree 2 poles (0.2608, 0.4791) (0.2937, 0.4791) (0.3246, 0.4272) (0.3246, 0.375) knots 0 0 0 1 2 2 2
  spline S17 degree 2 poles (0.2903, 0.3141) (0.2942, 0.3239) (0.2974, 0.3544) (0.2974, 0.375) knots 0 0 0 1 2 2 2
  spline S18 degree 2 poles (0.2974, 0.375) (0.2974, 0.3956) (0.2942, 0.4259) (0.2901, 0.4361) knots 0 0 0 1 2 2 2
  spline S19 degree 2 poles (0.2901, 0.4361) (0.2861, 0.4463) (0.2719, 0.4568) (0.2608, 0.4568) knots 0 0 0 1 2 2 2
  spline S20 degree 2 poles (0.2608, 0.4568) (0.2496, 0.4568) (0.2352, 0.4463) (0.2309, 0.4358) knots 0 0 0 1 2 2 2
  spline S21 degree 2 poles (0.2309, 0.4358) (0.2269, 0.4256) (0.224, 0.3944) (0.224, 0.3748) knots 0 0 0 1 2 2 2
  spline S22 degree 2 poles (0.224, 0.3748) (0.224, 0.3538) (0.2266, 0.3256) (0.2308, 0.3145) knots 0 0 0 1 2 2 2
  spline S23 degree 2 poles (0.2308, 0.3145) (0.2347, 0.3042) (0.2491, 0.293) (0.2608, 0.293) knots 0 0 0 1 2 2 2
  spline S24 degree 2 poles (0.2608, 0.293) (0.2718, 0.293) (0.2862, 0.3035) (0.2903, 0.3141) knots 0 0 0 1 2 2 2
  line L12 (0.4718, 0.275) -> (0.3559, 0.275)
  line L13 (0.3559, 0.275) -> (0.3559, 0.475)
  line L14 (0.3559, 0.475) -> (0.3825, 0.475)
  line L15 (0.3825, 0.475) -> (0.3825, 0.2987)
  line L16 (0.3825, 0.2987) -> (0.4718, 0.2987)
  line L17 (0.4718, 0.2987) -> (0.4718, 0.275)
  spline S25 degree 2 poles (0.6115, 0.375) (0.6115, 0.3212) (0.5802, 0.2708) (0.5476, 0.2708) knots 0 0 0 1 2 2 2
  spline S26 degree 2 poles (0.5476, 0.2708) (0.5146, 0.2708) (0.4836, 0.3222) (0.4836, 0.3748) knots 0 0 0 1 2 2 2
  spline S27 degree 2 poles (0.4836, 0.3748) (0.4836, 0.429) (0.5149, 0.4791) (0.5476, 0.4791) knots 0 0 0 1 2 2 2
  spline S28 degree 2 poles (0.5476, 0.4791) (0.5805, 0.4791) (0.6115, 0.4272) (0.6115, 0.375) knots 0 0 0 1 2 2 2
  spline S29 degree 2 poles (0.5771, 0.3141) (0.581, 0.3239) (0.5843, 0.3544) (0.5843, 0.375) knots 0 0 0 1 2 2 2
  spline S30 degree 2 poles (0.5843, 0.375) (0.5843, 0.3956) (0.581, 0.4259) (0.577, 0.4361) knots 0 0 0 1 2 2 2
  spline S31 degree 2 poles (0.577, 0.4361) (0.5729, 0.4463) (0.5588, 0.4568) (0.5476, 0.4568) knots 0 0 0 1 2 2 2
  spline S32 degree 2 poles (0.5476, 0.4568) (0.5365, 0.4568) (0.522, 0.4463) (0.5178, 0.4358) knots 0 0 0 1 2 2 2
  spline S33 degree 2 poles (0.5178, 0.4358) (0.5138, 0.4256) (0.5108, 0.3944) (0.5108, 0.3748) knots 0 0 0 1 2 2 2
  spline S34 degree 2 poles (0.5108, 0.3748) (0.5108, 0.3538) (0.5134, 0.3256) (0.5177, 0.3145) knots 0 0 0 1 2 2 2
  spline S35 degree 2 poles (0.5177, 0.3145) (0.5215, 0.3042) (0.536, 0.293) (0.5476, 0.293) knots 0 0 0 1 2 2 2
  spline S36 degree 2 poles (0.5476, 0.293) (0.5587, 0.293) (0.5731, 0.3035) (0.5771, 0.3141) knots 0 0 0 1 2 2 2
  point P0 (0.329, 0.375)
extrude "Extrusion3" add sketch "Sketch2" along normal blind 0.01
properties part number "21-0.05" material "Copper"
